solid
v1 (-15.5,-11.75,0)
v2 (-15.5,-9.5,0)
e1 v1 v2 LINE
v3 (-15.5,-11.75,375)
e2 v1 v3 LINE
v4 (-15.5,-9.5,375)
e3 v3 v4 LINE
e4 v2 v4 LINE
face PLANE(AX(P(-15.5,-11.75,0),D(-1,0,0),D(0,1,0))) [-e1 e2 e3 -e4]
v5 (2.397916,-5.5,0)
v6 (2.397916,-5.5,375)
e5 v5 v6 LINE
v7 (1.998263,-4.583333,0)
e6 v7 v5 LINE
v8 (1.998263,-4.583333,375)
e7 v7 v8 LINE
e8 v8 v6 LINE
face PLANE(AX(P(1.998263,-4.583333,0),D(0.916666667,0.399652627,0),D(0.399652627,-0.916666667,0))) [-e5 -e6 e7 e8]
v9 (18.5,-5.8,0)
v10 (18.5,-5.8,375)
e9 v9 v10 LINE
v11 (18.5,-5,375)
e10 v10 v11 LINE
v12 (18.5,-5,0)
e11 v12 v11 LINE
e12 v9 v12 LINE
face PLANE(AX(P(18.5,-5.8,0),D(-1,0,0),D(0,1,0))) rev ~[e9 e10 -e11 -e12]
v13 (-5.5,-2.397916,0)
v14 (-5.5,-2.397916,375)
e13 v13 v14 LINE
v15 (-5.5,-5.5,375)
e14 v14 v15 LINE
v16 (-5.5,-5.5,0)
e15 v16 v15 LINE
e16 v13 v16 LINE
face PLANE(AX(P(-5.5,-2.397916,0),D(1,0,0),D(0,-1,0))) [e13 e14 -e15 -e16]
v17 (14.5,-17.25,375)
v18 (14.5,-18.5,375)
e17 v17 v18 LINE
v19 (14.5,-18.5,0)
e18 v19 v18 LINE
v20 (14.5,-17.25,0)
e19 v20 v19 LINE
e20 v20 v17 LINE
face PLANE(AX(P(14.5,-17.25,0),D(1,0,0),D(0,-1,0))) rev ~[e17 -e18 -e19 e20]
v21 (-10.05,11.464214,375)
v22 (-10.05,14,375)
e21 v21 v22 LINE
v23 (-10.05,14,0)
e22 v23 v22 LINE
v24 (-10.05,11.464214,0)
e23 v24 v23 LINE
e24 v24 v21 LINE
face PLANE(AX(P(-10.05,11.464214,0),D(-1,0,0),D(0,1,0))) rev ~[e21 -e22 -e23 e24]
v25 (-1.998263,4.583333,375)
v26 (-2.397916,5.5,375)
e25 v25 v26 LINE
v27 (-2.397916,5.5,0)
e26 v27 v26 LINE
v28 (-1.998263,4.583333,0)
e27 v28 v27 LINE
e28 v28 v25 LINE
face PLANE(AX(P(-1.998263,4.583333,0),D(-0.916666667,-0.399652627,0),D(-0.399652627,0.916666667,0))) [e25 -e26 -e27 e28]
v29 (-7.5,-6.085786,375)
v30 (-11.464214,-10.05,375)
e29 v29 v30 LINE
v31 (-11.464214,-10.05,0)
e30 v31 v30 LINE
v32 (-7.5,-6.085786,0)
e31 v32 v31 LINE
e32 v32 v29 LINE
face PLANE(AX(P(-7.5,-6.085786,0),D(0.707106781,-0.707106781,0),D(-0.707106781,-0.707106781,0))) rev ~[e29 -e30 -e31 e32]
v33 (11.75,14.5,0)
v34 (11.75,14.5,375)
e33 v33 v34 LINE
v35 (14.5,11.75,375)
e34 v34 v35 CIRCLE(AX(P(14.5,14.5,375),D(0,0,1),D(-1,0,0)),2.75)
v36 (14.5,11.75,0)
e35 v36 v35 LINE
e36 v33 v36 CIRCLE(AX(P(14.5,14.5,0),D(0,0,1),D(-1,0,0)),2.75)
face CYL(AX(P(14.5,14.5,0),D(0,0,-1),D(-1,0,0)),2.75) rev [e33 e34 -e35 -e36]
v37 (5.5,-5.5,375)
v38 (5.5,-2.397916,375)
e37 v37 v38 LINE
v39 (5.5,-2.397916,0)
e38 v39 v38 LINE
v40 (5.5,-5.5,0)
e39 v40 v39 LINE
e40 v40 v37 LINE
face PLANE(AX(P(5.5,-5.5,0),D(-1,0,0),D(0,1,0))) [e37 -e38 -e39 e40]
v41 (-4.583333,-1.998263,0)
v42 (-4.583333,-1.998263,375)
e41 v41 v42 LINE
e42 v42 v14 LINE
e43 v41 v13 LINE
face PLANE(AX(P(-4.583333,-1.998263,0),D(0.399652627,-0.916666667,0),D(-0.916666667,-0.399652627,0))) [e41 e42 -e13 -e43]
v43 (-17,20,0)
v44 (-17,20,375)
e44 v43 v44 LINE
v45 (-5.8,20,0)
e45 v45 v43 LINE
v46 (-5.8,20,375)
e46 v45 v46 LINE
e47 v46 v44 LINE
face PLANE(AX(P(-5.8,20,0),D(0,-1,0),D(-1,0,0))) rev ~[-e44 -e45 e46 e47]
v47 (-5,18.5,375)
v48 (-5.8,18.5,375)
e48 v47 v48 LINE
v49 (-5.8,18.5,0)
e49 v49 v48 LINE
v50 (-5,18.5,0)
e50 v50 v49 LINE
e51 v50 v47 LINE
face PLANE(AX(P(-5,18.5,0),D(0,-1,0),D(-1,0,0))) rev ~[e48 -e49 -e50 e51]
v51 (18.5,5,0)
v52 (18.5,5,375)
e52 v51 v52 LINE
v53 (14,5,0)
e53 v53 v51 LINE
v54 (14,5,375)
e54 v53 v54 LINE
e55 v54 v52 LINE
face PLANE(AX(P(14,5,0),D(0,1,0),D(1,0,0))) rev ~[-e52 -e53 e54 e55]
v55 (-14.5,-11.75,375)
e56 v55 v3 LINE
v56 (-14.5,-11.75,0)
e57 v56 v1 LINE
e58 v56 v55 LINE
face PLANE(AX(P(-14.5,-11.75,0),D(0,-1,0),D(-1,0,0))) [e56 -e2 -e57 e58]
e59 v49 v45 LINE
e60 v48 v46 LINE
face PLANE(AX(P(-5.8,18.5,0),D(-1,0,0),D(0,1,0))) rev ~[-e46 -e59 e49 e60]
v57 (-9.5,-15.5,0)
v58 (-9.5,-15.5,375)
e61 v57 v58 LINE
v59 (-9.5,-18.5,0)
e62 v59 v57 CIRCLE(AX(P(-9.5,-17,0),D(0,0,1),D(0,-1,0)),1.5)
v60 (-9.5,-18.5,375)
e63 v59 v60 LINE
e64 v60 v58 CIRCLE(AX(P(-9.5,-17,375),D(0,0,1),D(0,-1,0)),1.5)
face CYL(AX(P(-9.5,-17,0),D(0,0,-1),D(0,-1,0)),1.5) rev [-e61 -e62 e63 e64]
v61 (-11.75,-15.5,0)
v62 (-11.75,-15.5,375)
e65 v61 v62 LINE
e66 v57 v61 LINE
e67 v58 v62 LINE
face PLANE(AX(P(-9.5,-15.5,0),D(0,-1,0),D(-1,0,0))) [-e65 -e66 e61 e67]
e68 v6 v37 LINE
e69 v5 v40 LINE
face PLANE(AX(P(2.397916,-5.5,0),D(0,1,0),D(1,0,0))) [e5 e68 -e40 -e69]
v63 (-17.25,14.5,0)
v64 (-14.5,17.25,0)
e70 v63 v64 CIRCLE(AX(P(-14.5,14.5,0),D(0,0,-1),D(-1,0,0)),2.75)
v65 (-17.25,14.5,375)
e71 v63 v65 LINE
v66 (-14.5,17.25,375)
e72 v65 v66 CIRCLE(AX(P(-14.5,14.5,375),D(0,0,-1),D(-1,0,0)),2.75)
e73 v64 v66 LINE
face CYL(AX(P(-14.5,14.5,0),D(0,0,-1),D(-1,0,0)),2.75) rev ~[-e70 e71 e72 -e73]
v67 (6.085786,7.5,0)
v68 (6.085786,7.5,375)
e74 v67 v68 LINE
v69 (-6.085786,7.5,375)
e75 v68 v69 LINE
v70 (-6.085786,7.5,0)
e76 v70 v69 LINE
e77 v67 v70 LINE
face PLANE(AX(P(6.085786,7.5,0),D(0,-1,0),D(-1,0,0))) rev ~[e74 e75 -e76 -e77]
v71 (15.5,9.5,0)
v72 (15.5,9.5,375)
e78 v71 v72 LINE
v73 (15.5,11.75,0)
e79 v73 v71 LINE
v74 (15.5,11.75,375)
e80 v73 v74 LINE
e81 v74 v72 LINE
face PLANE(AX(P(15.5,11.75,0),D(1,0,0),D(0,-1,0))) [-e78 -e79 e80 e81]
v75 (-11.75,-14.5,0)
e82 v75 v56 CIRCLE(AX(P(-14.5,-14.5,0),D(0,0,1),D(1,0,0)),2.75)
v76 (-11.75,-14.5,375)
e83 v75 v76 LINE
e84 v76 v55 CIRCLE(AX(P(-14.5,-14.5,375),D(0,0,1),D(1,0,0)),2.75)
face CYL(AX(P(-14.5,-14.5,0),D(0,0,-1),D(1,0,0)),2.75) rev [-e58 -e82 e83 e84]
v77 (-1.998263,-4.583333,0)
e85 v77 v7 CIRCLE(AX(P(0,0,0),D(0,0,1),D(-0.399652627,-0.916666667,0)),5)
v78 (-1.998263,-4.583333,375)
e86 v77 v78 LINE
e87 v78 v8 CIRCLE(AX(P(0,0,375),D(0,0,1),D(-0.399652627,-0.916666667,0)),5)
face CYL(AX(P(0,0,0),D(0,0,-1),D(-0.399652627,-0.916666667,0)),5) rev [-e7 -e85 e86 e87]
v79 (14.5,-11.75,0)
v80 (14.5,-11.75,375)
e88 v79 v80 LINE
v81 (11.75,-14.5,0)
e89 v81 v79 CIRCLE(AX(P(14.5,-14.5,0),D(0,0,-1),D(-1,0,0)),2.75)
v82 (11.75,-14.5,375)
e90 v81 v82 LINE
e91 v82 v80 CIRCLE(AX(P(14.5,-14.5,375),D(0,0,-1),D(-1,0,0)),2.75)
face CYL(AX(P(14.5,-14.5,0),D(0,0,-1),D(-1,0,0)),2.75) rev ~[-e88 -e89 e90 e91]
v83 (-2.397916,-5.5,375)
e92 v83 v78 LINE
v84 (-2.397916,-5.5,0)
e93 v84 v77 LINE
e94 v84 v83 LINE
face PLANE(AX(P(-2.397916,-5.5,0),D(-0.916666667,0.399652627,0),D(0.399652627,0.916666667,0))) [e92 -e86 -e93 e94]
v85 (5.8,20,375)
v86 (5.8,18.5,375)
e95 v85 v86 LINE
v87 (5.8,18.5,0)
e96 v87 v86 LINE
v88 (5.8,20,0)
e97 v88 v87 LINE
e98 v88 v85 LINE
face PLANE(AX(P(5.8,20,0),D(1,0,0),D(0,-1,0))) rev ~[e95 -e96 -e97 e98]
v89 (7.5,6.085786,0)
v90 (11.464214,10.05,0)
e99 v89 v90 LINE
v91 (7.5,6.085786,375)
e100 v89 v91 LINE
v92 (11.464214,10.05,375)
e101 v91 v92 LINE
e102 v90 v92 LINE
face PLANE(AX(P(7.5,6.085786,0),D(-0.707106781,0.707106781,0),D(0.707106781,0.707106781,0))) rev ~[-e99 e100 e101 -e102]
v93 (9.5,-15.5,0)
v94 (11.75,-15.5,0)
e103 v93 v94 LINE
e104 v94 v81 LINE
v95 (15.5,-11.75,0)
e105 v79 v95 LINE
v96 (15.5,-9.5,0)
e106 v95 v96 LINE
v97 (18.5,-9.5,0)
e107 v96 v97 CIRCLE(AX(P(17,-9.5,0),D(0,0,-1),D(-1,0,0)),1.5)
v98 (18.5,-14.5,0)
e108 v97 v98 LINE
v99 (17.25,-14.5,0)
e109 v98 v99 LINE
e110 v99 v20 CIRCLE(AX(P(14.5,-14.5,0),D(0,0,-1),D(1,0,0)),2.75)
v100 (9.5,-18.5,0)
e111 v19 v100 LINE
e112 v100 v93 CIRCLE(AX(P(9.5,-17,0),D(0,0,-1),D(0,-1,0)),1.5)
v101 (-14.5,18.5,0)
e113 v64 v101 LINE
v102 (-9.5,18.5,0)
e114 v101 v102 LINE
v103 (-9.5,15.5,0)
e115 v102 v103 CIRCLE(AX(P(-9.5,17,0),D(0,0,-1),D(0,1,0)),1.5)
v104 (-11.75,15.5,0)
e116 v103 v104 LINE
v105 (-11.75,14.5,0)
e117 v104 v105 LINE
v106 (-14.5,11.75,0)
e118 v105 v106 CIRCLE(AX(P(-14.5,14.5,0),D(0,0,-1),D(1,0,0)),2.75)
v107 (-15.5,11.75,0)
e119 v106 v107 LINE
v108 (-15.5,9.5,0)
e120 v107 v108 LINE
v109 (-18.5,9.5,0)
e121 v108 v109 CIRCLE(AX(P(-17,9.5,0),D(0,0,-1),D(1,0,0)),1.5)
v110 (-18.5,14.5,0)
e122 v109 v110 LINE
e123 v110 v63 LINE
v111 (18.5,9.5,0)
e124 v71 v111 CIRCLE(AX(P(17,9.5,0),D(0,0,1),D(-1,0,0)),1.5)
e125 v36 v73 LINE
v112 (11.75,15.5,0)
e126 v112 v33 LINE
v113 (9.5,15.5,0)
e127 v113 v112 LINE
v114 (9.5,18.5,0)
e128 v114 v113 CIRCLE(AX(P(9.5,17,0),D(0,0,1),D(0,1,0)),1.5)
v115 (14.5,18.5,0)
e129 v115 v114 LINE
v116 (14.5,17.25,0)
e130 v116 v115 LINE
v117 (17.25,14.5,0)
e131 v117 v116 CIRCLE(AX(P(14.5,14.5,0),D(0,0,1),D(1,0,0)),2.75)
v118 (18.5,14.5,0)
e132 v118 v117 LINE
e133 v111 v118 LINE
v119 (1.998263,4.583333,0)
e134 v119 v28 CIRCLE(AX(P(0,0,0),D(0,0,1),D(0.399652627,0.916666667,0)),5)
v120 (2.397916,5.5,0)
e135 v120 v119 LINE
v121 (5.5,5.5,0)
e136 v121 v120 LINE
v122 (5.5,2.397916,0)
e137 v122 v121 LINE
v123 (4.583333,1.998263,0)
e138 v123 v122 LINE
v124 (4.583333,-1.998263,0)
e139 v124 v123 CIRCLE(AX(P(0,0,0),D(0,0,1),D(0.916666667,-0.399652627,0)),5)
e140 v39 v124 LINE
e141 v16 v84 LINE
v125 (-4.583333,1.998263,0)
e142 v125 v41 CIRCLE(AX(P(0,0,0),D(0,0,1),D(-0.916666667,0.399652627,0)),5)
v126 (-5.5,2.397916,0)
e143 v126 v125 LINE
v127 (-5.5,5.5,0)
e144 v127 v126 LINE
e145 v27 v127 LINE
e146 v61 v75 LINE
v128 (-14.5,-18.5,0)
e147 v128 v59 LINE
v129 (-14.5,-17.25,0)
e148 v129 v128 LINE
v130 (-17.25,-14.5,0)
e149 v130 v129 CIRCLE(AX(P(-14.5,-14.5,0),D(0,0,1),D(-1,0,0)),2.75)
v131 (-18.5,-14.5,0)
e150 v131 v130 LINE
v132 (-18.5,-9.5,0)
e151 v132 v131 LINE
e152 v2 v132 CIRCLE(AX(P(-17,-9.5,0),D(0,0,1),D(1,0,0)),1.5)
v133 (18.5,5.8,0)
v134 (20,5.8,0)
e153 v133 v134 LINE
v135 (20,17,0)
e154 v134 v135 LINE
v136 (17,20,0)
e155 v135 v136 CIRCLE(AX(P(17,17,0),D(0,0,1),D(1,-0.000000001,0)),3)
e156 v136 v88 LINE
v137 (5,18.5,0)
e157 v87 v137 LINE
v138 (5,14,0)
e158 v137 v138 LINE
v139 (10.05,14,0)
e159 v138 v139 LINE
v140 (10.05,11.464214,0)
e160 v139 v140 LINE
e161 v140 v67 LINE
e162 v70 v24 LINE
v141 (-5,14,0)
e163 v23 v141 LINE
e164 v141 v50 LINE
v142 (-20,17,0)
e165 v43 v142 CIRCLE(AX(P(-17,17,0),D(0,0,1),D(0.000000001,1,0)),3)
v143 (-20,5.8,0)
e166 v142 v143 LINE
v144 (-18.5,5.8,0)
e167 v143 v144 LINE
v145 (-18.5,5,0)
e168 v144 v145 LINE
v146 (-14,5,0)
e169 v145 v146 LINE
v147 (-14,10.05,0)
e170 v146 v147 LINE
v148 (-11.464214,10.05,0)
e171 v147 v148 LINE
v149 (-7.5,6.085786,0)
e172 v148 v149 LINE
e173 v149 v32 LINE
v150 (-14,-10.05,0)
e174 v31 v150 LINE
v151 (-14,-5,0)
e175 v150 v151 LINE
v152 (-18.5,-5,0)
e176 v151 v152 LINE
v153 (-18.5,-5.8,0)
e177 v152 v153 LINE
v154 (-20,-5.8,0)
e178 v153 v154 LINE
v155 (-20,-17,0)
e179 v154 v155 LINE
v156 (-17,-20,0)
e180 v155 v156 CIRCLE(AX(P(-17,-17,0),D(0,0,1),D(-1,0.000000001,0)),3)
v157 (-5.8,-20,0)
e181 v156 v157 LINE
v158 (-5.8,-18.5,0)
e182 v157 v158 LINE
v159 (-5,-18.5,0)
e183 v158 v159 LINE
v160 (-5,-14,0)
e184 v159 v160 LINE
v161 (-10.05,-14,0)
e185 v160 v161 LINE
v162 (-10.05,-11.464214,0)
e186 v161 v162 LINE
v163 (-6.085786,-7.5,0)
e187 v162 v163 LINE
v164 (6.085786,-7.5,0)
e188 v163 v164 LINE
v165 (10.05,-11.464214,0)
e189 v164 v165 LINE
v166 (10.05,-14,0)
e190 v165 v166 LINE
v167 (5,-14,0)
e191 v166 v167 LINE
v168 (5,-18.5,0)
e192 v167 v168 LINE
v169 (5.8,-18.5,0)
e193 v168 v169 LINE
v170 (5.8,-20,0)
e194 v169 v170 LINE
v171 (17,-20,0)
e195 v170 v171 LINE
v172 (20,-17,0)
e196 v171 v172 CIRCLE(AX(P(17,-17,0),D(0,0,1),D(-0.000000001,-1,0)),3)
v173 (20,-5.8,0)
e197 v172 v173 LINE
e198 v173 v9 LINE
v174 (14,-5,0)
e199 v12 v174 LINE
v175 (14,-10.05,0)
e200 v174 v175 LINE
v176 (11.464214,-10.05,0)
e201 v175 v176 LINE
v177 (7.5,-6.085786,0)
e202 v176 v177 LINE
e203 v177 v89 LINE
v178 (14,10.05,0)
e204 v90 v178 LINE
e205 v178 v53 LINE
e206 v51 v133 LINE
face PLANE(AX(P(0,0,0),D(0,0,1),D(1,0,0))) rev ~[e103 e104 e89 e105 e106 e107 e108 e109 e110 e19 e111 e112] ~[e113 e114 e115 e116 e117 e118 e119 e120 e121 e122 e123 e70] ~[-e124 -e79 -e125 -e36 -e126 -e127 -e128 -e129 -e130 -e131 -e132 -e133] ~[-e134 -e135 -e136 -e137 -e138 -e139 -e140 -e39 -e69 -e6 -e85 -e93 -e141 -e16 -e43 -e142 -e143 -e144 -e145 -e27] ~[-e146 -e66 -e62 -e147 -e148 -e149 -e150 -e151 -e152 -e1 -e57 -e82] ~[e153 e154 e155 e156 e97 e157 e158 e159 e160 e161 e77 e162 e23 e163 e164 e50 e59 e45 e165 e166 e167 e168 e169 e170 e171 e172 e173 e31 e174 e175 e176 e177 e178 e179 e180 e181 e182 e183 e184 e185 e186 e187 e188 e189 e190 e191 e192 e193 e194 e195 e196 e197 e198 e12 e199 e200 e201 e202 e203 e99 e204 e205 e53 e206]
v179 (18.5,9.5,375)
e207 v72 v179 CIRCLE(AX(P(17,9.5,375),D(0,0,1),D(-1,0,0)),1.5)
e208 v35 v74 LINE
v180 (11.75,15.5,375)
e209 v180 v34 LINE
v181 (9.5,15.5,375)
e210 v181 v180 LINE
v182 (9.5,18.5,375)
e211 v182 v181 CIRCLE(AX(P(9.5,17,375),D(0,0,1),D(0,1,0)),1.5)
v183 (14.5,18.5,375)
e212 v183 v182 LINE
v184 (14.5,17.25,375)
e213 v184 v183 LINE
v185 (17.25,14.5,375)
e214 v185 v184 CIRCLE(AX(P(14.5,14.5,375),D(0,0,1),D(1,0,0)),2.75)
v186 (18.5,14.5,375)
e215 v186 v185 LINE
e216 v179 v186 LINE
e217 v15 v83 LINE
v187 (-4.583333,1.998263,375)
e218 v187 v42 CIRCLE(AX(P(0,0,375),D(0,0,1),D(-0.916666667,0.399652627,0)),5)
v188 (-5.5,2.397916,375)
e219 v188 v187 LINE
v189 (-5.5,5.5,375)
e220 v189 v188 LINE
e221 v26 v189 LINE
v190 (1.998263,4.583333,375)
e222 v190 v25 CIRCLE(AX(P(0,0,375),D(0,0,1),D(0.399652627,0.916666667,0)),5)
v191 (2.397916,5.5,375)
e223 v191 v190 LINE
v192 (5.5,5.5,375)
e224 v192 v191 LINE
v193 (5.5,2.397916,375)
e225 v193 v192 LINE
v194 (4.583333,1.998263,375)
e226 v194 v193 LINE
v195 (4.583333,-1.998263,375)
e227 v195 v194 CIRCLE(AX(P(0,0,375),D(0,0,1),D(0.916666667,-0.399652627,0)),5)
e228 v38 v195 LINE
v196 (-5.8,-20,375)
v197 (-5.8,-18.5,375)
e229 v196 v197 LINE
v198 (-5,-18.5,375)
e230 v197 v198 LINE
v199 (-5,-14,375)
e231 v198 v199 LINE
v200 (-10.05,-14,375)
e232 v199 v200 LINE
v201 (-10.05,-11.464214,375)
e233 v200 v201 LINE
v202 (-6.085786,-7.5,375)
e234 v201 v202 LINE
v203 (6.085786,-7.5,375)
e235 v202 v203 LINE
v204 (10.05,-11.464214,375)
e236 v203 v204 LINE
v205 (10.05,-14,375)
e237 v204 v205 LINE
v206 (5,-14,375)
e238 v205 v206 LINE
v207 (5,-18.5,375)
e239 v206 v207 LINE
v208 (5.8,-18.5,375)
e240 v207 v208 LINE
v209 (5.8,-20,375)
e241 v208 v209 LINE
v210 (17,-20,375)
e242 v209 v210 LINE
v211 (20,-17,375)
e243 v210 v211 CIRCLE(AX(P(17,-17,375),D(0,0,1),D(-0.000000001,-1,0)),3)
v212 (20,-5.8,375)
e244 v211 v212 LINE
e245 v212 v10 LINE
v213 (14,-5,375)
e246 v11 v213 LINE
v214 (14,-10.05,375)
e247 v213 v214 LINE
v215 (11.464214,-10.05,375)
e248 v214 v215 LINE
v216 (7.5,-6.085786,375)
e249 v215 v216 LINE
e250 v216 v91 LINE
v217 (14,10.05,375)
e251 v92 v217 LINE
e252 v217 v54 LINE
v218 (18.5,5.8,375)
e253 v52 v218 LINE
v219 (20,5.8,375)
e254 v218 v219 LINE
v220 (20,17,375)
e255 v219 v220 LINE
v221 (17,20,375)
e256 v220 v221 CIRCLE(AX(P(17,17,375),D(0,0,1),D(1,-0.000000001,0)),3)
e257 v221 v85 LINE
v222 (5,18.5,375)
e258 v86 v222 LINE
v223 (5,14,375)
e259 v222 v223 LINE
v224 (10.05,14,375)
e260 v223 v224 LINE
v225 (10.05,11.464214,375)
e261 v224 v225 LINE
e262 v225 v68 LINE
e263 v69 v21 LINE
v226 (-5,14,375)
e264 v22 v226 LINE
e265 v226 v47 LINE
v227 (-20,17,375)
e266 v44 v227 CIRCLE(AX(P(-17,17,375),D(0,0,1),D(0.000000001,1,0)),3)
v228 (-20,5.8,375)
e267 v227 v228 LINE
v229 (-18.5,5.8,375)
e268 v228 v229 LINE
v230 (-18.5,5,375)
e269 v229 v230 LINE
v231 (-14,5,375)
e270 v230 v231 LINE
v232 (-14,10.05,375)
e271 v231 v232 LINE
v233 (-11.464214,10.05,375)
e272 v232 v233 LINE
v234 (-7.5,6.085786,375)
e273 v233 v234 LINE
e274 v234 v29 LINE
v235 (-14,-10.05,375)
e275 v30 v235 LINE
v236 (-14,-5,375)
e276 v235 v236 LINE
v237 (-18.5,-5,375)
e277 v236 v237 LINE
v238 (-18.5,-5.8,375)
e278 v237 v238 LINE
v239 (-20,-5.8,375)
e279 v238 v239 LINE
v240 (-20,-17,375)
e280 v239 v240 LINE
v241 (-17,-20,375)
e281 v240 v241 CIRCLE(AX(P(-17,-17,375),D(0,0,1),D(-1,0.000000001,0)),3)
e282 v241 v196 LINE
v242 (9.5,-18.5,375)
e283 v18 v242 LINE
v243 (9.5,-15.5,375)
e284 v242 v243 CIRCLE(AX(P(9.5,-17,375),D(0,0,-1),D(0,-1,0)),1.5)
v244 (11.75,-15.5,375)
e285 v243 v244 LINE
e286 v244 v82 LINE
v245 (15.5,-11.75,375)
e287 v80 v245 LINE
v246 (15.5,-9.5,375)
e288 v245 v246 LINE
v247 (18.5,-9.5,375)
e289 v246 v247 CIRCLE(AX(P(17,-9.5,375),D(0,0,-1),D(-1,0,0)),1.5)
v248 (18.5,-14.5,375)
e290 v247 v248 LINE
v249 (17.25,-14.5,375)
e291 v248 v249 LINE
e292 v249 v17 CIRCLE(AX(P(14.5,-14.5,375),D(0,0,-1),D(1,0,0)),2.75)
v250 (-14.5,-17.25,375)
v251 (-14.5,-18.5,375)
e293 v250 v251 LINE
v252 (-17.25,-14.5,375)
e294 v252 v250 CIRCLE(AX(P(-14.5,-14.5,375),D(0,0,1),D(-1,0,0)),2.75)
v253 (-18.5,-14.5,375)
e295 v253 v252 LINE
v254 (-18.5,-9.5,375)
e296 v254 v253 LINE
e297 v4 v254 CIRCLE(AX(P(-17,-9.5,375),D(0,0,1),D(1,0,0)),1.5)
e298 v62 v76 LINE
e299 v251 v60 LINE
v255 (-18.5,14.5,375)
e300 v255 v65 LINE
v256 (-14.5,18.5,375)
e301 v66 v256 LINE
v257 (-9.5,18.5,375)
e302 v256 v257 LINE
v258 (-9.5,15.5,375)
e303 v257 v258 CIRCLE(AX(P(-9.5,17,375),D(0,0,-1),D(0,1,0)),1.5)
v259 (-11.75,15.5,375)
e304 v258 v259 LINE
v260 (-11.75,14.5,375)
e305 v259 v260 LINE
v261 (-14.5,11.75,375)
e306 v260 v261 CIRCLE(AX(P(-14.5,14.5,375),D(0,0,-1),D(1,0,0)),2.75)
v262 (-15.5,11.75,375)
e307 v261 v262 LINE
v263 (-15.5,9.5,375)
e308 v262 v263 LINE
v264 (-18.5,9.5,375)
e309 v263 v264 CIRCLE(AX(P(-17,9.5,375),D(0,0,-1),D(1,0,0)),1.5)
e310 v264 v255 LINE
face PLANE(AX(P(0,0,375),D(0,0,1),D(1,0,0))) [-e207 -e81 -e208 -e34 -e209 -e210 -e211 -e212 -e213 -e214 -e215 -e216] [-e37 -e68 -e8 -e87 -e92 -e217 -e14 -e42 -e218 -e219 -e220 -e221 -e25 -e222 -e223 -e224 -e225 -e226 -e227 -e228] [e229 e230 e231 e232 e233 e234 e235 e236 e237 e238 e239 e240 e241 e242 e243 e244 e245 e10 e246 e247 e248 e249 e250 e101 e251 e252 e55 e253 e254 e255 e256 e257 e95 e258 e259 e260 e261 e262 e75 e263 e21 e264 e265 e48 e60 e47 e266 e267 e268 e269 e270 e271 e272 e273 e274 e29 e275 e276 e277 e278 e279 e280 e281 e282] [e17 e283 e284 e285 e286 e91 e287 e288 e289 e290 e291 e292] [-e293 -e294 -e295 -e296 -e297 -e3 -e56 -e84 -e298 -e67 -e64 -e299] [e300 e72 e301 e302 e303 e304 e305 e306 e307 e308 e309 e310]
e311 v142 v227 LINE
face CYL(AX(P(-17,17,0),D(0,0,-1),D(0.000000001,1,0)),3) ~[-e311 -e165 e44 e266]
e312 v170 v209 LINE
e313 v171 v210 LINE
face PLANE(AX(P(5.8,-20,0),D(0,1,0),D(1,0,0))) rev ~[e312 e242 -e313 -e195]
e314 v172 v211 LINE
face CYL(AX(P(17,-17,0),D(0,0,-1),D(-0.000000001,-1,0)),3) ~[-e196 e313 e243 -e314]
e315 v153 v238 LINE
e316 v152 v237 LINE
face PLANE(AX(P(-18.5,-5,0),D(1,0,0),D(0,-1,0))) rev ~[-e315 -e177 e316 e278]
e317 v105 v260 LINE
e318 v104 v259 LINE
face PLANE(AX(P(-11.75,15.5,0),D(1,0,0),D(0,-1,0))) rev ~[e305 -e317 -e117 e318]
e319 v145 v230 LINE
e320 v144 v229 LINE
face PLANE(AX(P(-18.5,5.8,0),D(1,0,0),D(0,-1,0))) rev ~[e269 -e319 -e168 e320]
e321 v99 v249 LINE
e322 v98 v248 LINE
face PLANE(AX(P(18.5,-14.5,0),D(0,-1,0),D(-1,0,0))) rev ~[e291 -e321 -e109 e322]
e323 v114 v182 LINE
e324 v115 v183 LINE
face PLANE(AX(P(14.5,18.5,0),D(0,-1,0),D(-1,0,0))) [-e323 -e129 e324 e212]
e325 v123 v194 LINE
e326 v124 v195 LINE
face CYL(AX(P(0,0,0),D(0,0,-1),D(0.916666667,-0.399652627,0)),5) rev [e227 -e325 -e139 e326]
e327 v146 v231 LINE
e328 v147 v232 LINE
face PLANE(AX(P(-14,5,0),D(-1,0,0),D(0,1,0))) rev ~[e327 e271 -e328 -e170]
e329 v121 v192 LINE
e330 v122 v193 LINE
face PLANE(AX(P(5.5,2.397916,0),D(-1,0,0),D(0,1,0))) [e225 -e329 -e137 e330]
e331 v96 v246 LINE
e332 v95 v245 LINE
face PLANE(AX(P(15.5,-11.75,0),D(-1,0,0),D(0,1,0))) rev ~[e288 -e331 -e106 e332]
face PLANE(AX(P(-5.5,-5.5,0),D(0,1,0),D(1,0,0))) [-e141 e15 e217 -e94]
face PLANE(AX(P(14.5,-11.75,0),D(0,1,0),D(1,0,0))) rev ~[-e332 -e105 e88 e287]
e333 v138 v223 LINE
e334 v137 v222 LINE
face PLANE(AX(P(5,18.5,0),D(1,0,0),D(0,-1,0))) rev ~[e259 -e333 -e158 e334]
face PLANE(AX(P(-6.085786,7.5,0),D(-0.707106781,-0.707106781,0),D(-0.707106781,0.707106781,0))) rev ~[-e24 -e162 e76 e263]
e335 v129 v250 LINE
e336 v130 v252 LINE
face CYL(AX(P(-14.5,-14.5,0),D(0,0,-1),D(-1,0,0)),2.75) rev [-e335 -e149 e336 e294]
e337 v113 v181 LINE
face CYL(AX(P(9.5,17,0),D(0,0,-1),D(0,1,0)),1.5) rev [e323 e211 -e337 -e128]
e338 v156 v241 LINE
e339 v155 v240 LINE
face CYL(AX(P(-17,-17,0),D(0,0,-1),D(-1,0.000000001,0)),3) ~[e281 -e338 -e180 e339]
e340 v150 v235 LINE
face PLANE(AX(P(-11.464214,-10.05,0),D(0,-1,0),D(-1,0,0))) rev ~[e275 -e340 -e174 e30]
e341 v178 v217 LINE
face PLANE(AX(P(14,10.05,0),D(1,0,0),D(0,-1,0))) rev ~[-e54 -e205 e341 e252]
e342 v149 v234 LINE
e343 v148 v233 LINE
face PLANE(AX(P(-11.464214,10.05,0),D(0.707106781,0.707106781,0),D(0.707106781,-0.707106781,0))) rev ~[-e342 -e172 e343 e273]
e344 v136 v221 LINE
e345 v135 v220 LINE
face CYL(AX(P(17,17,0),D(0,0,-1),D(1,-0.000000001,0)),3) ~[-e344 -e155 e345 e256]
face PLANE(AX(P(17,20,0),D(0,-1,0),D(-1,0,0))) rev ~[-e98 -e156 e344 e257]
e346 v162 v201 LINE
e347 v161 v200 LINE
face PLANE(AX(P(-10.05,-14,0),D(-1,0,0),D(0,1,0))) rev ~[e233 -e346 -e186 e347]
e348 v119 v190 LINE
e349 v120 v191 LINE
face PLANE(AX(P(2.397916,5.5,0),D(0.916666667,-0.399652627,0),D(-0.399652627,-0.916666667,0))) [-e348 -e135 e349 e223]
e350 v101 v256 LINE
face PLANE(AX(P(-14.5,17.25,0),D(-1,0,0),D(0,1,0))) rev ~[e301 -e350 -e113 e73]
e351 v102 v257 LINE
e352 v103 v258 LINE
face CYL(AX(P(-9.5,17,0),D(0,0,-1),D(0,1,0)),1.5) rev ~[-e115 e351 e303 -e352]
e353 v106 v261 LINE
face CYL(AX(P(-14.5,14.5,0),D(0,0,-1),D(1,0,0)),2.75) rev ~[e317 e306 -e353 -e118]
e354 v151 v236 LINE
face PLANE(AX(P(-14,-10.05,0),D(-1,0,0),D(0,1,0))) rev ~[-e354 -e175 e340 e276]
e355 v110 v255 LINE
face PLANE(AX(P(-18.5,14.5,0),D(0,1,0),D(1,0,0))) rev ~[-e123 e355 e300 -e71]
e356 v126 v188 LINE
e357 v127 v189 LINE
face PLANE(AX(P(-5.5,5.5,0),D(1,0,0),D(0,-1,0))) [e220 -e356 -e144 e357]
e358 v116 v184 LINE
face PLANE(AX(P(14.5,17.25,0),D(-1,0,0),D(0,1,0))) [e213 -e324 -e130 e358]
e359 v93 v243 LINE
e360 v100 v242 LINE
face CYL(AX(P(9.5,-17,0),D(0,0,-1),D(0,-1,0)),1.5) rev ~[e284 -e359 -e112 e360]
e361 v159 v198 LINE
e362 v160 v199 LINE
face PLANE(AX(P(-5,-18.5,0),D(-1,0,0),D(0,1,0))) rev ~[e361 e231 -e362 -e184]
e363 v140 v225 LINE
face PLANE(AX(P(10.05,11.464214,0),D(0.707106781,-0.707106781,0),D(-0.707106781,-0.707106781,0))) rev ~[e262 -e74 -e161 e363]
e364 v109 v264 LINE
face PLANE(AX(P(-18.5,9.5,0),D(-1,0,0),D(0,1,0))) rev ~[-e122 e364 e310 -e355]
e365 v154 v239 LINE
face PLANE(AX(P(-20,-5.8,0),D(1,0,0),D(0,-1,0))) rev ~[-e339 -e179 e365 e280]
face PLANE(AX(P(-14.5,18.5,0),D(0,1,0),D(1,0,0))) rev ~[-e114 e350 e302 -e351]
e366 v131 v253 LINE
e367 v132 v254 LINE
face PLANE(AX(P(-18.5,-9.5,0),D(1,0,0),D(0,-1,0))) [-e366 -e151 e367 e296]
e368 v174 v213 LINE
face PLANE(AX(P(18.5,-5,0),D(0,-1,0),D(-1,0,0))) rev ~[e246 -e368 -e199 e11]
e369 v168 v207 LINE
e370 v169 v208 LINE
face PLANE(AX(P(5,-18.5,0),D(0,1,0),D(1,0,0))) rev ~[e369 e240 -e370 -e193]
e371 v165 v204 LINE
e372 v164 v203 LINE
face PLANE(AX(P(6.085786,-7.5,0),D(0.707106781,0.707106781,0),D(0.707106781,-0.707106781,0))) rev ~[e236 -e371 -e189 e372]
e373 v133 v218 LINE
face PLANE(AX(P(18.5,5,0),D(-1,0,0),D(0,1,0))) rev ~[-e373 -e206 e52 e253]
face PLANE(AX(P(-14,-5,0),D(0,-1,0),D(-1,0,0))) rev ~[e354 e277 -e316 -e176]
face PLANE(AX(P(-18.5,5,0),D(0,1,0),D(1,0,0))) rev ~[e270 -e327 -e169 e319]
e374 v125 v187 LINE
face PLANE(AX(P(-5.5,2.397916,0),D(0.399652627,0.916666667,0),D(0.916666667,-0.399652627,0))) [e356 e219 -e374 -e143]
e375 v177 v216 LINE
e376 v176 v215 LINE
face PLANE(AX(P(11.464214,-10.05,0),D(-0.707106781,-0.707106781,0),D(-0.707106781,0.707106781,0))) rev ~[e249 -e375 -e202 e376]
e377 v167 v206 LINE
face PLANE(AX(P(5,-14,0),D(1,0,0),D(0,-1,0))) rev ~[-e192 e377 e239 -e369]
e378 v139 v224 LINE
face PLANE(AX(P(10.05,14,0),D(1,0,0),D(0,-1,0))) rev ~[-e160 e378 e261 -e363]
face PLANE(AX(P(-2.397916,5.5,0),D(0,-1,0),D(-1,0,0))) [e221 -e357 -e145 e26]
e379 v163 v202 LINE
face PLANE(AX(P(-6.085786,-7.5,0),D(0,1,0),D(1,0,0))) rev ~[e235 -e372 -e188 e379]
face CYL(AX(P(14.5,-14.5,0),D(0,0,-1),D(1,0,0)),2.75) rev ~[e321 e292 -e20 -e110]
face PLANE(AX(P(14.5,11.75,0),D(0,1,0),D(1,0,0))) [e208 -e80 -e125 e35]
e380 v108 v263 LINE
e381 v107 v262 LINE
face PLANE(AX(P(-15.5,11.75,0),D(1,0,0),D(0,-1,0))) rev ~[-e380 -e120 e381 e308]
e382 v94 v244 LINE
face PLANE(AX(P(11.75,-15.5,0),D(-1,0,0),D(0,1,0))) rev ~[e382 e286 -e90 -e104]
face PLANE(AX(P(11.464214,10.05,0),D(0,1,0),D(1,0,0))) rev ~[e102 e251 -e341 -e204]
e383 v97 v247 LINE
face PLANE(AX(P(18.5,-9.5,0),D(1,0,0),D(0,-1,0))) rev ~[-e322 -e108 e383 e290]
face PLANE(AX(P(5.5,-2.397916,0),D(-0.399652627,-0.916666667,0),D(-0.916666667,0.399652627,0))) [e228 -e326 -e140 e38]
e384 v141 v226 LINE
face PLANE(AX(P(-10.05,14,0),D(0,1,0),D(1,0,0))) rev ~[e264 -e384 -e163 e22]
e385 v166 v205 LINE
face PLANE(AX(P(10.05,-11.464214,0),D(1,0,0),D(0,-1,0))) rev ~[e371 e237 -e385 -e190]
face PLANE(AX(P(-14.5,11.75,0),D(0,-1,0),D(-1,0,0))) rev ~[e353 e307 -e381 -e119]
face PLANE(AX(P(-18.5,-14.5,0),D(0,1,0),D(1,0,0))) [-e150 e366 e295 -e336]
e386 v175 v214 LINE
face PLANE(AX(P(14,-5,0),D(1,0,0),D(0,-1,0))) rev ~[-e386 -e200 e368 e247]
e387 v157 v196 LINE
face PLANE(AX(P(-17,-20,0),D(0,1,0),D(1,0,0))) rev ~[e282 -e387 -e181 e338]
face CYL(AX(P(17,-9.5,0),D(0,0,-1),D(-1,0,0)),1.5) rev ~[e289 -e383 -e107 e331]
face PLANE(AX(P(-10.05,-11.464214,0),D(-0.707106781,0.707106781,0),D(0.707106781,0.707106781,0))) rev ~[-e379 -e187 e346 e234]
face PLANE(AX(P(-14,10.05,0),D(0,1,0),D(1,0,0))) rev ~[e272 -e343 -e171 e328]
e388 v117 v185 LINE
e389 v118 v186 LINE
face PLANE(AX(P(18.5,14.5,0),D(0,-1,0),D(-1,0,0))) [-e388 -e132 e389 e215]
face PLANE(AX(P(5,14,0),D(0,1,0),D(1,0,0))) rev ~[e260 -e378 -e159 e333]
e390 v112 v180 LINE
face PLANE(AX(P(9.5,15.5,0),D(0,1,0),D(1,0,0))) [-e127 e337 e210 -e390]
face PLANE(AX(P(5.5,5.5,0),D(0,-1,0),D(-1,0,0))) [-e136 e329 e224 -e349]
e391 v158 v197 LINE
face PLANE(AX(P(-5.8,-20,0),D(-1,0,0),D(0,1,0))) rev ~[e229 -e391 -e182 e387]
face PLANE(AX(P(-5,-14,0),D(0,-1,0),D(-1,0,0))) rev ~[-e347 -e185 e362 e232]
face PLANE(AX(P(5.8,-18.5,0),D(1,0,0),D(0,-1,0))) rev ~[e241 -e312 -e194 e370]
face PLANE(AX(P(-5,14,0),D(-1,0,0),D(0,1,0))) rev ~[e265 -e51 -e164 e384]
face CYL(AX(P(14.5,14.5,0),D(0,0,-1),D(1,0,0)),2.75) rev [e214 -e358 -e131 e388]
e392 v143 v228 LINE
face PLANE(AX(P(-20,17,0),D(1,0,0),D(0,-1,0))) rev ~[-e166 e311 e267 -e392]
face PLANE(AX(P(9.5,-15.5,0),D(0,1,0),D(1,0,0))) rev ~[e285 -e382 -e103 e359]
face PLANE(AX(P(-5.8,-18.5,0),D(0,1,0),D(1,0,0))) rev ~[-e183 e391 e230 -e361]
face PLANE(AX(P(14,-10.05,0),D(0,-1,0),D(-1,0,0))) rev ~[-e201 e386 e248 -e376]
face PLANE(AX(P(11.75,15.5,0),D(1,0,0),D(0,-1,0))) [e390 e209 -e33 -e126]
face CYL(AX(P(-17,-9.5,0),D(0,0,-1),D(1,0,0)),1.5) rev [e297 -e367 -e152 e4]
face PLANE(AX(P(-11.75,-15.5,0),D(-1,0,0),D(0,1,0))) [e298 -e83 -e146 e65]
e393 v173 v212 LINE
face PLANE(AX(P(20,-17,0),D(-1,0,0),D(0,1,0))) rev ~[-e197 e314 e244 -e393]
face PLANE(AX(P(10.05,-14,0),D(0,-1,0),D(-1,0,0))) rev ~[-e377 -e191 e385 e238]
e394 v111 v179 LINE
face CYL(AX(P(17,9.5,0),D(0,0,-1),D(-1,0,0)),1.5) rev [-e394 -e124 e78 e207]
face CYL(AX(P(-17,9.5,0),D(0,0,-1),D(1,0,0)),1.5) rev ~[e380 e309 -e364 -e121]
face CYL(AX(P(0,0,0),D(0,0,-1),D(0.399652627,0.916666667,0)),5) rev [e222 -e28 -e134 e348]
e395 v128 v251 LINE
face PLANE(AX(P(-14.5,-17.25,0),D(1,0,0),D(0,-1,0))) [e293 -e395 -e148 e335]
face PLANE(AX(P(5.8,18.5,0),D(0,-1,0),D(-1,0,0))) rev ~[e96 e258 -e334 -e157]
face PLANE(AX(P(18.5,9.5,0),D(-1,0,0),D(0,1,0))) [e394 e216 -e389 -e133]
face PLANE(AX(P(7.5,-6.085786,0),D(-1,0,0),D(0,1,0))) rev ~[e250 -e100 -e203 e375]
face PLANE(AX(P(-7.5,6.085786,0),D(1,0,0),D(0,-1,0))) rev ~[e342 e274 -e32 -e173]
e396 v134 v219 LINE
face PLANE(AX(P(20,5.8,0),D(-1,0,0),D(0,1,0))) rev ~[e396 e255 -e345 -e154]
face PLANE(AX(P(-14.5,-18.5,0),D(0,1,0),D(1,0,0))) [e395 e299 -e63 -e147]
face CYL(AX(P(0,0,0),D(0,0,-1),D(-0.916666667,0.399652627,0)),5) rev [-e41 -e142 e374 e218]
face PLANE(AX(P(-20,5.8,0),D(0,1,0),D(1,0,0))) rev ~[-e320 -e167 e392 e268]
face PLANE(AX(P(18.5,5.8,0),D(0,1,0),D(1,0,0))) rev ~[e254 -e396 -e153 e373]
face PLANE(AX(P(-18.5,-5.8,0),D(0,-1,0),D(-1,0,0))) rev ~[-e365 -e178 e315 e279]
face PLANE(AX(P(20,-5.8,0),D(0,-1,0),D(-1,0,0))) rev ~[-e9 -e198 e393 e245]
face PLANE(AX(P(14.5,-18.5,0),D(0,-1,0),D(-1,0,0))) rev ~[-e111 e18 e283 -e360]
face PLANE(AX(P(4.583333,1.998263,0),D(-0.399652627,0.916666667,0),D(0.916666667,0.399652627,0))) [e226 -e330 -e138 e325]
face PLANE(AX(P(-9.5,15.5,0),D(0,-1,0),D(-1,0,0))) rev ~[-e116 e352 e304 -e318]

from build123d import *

# Parameters (mm, degrees)
EXTRUDE1_DEPTH = 375


with BuildPart() as part:
    # Sketch1 → Extrude1 (new body)
    with BuildSketch(Plane.XY):
        with BuildLine():
            Line((5.8, -20), (17, -20))
            ThreePointArc((17, -20), (19.121320344, -19.121320344), (20, -17))
            Line((20, -17), (20, -5.8))
            Line((20, -5.8), (18.5, -5.8))
            Line((18.5, -5.8), (18.5, -5))
            Line((18.5, -5), (14, -5))
            Line((14, -5), (14, -10.05))
            Line((14, -10.05), (11.464213562, -10.05))
            Line((11.464213562, -10.05), (7.5, -6.085786438))
            Line((7.5, -6.085786438), (7.5, 6.085786438))
            Line((7.5, 6.085786438), (11.464213562, 10.05))
            Line((11.464213562, 10.05), (14, 10.05))
            Line((14, 10.05), (14, 5))
            Line((14, 5), (18.5, 5))
            Line((18.5, 5), (18.5, 5.8))
            Line((18.5, 5.8), (20, 5.8))
            Line((20, 5.8), (20, 17))
            ThreePointArc((20, 17), (19.121320344, 19.121320344), (17, 20))
            Line((17, 20), (5.8, 20))
            Line((5.8, 20), (5.8, 18.5))
            Line((5.8, 18.5), (5, 18.5))
            Line((5, 18.5), (5, 14))
            Line((5, 14), (10.05, 14))
            Line((10.05, 14), (10.05, 11.464213562))
            Line((10.05, 11.464213562), (6.085786438, 7.5))
            Line((6.085786438, 7.5), (-6.085786438, 7.5))
            Line((-6.085786438, 7.5), (-10.05, 11.464213562))
            Line((-10.05, 11.464213562), (-10.05, 14))
            Line((-10.05, 14), (-5, 14))
            Line((-5, 14), (-5, 18.5))
            Line((-5, 18.5), (-5.8, 18.5))
            Line((-5.8, 18.5), (-5.8, 20))
            Line((-5.8, 20), (-17, 20))
            ThreePointArc((-17, 20), (-19.121320344, 19.121320344), (-20, 17))
            Line((-20, 17), (-20, 5.8))
            Line((-20, 5.8), (-18.5, 5.8))
            Line((-18.5, 5.8), (-18.5, 5))
            Line((-18.5, 5), (-14, 5))
            Line((-14, 5), (-14, 10.05))
            Line((-14, 10.05), (-11.464213562, 10.05))
            Line((-11.464213562, 10.05), (-7.5, 6.085786438))
            Line((-7.5, 6.085786438), (-7.5, -6.085786438))
            Line((-7.5, -6.085786438), (-11.464213562, -10.05))
            Line((-11.464213562, -10.05), (-14, -10.05))
            Line((-14, -10.05), (-14, -5))
            Line((-14, -5), (-18.5, -5))
            Line((-18.5, -5), (-18.5, -5.8))
            Line((-18.5, -5.8), (-20, -5.8))
            Line((-20, -5.8), (-20, -17))
            ThreePointArc((-20, -17), (-19.121320344, -19.121320344), (-17, -20))
            Line((-17, -20), (-5.8, -20))
            Line((-5.8, -20), (-5.8, -18.5))
            Line((-5.8, -18.5), (-5, -18.5))
            Line((-5, -18.5), (-5, -14))
            Line((-5, -14), (-10.05, -14))
            Line((-10.05, -14), (-10.05, -11.464213562))
            Line((-10.05, -11.464213562), (-6.085786438, -7.5))
            Line((-6.085786438, -7.5), (6.085786438, -7.5))
            Line((6.085786438, -7.5), (10.05, -11.464213562))
            Line((10.05, -11.464213562), (10.05, -14))
            Line((10.05, -14), (5, -14))
            Line((5, -14), (5, -18.5))
            Line((5, -18.5), (5.8, -18.5))
            Line((5.8, -18.5), (5.8, -20))
        make_face()
        with BuildLine():
            Line((14.5, -18.5), (9.5, -18.5))
            ThreePointArc((9.5, -18.5), (8, -17), (9.5, -15.5))
            Line((9.5, -15.5), (11.75, -15.5))
            Line((11.75, -15.5), (11.75, -14.5))
            ThreePointArc((11.75, -14.5), (12.555456352, -12.555456352), (14.5, -11.75))
            Line((14.5, -11.75), (15.5, -11.75))
            Line((15.5, -11.75), (15.5, -9.5))
            ThreePointArc((15.5, -9.5), (17, -8), (18.5, -9.5))
            Line((18.5, -9.5), (18.5, -14.5))
            Line((18.5, -14.5), (17.25, -14.5))
            ThreePointArc((17.25, -14.5), (16.444543648, -16.444543648), (14.5, -17.25))
            Line((14.5, -17.25), (14.5, -18.5))
        make_face(mode=Mode.SUBTRACT)
        with BuildLine():
            Line((18.5, 14.5), (17.25, 14.5))
            ThreePointArc((17.25, 14.5), (16.444543648, 16.444543648), (14.5, 17.25))
            Line((14.5, 17.25), (14.5, 18.5))
            Line((14.5, 18.5), (9.5, 18.5))
            ThreePointArc((9.5, 18.5), (8, 17), (9.5, 15.5))
            Line((9.5, 15.5), (11.75, 15.5))
            Line((11.75, 15.5), (11.75, 14.5))
            ThreePointArc((11.75, 14.5), (12.555456352, 12.555456352), (14.5, 11.75))
            Line((14.5, 11.75), (15.5, 11.75))
            Line((15.5, 11.75), (15.5, 9.5))
            ThreePointArc((15.5, 9.5), (17, 8), (18.5, 9.5))
            Line((18.5, 9.5), (18.5, 14.5))
        make_face(mode=Mode.SUBTRACT)
        with BuildLine():
            Line((5.5, 5.5), (2.397915762, 5.5))
            Line((2.397915762, 5.5), (1.998263135, 4.583333333))
            ThreePointArc((1.998263135, 4.583333333), (0, 5), (-1.998263135, 4.583333333))
            Line((-1.998263135, 4.583333333), (-2.397915762, 5.5))
            Line((-2.397915762, 5.5), (-5.5, 5.5))
            Line((-5.5, 5.5), (-5.5, 2.397915762))
            Line((-5.5, 2.397915762), (-4.583333333, 1.998263135))
            ThreePointArc((-4.583333333, 1.998263135), (-5, 0), (-4.583333333, -1.998263135))
            Line((-4.583333333, -1.998263135), (-5.5, -2.397915762))
            Line((-5.5, -2.397915762), (-5.5, -5.5))
            Line((-5.5, -5.5), (-2.397915762, -5.5))
            Line((-2.397915762, -5.5), (-1.998263135, -4.583333333))
            ThreePointArc((-1.998263135, -4.583333333), (0, -5), (1.998263135, -4.583333333))
            Line((1.998263135, -4.583333333), (2.397915762, -5.5))
            Line((2.397915762, -5.5), (5.5, -5.5))
            Line((5.5, -5.5), (5.5, -2.397915762))
            Line((5.5, -2.397915762), (4.583333333, -1.998263135))
            ThreePointArc((4.583333333, -1.998263135), (5, 0), (4.583333333, 1.998263135))
            Line((4.583333333, 1.998263135), (5.5, 2.397915762))
            Line((5.5, 2.397915762), (5.5, 5.5))
        make_face(mode=Mode.SUBTRACT)
        with BuildLine():
            Line((-18.5, -14.5), (-17.25, -14.5))
            ThreePointArc((-17.25, -14.5), (-16.444543648, -16.444543648), (-14.5, -17.25))
            Line((-14.5, -17.25), (-14.5, -18.5))
            Line((-14.5, -18.5), (-9.5, -18.5))
            ThreePointArc((-9.5, -18.5), (-8, -17), (-9.5, -15.5))
            Line((-9.5, -15.5), (-11.75, -15.5))
            Line((-11.75, -15.5), (-11.75, -14.5))
            ThreePointArc((-11.75, -14.5), (-12.555456352, -12.555456352), (-14.5, -11.75))
            Line((-14.5, -11.75), (-15.5, -11.75))
            Line((-15.5, -11.75), (-15.5, -9.5))
            ThreePointArc((-15.5, -9.5), (-17, -8), (-18.5, -9.5))
            Line((-18.5, -9.5), (-18.5, -14.5))
        make_face(mode=Mode.SUBTRACT)
        with BuildLine():
            Line((-14.5, 18.5), (-9.5, 18.5))
            ThreePointArc((-9.5, 18.5), (-8, 17), (-9.5, 15.5))
            Line((-9.5, 15.5), (-11.75, 15.5))
            Line((-11.75, 15.5), (-11.75, 14.5))
            ThreePointArc((-11.75, 14.5), (-12.555456352, 12.555456352), (-14.5, 11.75))
            Line((-14.5, 11.75), (-15.5, 11.75))
            Line((-15.5, 11.75), (-15.5, 9.5))
            ThreePointArc((-15.5, 9.5), (-17, 8), (-18.5, 9.5))
            Line((-18.5, 9.5), (-18.5, 14.5))
            Line((-18.5, 14.5), (-17.25, 14.5))
            ThreePointArc((-17.25, 14.5), (-16.444543648, 16.444543648), (-14.5, 17.25))
            Line((-14.5, 17.25), (-14.5, 18.5))
        make_face(mode=Mode.SUBTRACT)
    extrude(amount=EXTRUDE1_DEPTH)


solid = part.part
